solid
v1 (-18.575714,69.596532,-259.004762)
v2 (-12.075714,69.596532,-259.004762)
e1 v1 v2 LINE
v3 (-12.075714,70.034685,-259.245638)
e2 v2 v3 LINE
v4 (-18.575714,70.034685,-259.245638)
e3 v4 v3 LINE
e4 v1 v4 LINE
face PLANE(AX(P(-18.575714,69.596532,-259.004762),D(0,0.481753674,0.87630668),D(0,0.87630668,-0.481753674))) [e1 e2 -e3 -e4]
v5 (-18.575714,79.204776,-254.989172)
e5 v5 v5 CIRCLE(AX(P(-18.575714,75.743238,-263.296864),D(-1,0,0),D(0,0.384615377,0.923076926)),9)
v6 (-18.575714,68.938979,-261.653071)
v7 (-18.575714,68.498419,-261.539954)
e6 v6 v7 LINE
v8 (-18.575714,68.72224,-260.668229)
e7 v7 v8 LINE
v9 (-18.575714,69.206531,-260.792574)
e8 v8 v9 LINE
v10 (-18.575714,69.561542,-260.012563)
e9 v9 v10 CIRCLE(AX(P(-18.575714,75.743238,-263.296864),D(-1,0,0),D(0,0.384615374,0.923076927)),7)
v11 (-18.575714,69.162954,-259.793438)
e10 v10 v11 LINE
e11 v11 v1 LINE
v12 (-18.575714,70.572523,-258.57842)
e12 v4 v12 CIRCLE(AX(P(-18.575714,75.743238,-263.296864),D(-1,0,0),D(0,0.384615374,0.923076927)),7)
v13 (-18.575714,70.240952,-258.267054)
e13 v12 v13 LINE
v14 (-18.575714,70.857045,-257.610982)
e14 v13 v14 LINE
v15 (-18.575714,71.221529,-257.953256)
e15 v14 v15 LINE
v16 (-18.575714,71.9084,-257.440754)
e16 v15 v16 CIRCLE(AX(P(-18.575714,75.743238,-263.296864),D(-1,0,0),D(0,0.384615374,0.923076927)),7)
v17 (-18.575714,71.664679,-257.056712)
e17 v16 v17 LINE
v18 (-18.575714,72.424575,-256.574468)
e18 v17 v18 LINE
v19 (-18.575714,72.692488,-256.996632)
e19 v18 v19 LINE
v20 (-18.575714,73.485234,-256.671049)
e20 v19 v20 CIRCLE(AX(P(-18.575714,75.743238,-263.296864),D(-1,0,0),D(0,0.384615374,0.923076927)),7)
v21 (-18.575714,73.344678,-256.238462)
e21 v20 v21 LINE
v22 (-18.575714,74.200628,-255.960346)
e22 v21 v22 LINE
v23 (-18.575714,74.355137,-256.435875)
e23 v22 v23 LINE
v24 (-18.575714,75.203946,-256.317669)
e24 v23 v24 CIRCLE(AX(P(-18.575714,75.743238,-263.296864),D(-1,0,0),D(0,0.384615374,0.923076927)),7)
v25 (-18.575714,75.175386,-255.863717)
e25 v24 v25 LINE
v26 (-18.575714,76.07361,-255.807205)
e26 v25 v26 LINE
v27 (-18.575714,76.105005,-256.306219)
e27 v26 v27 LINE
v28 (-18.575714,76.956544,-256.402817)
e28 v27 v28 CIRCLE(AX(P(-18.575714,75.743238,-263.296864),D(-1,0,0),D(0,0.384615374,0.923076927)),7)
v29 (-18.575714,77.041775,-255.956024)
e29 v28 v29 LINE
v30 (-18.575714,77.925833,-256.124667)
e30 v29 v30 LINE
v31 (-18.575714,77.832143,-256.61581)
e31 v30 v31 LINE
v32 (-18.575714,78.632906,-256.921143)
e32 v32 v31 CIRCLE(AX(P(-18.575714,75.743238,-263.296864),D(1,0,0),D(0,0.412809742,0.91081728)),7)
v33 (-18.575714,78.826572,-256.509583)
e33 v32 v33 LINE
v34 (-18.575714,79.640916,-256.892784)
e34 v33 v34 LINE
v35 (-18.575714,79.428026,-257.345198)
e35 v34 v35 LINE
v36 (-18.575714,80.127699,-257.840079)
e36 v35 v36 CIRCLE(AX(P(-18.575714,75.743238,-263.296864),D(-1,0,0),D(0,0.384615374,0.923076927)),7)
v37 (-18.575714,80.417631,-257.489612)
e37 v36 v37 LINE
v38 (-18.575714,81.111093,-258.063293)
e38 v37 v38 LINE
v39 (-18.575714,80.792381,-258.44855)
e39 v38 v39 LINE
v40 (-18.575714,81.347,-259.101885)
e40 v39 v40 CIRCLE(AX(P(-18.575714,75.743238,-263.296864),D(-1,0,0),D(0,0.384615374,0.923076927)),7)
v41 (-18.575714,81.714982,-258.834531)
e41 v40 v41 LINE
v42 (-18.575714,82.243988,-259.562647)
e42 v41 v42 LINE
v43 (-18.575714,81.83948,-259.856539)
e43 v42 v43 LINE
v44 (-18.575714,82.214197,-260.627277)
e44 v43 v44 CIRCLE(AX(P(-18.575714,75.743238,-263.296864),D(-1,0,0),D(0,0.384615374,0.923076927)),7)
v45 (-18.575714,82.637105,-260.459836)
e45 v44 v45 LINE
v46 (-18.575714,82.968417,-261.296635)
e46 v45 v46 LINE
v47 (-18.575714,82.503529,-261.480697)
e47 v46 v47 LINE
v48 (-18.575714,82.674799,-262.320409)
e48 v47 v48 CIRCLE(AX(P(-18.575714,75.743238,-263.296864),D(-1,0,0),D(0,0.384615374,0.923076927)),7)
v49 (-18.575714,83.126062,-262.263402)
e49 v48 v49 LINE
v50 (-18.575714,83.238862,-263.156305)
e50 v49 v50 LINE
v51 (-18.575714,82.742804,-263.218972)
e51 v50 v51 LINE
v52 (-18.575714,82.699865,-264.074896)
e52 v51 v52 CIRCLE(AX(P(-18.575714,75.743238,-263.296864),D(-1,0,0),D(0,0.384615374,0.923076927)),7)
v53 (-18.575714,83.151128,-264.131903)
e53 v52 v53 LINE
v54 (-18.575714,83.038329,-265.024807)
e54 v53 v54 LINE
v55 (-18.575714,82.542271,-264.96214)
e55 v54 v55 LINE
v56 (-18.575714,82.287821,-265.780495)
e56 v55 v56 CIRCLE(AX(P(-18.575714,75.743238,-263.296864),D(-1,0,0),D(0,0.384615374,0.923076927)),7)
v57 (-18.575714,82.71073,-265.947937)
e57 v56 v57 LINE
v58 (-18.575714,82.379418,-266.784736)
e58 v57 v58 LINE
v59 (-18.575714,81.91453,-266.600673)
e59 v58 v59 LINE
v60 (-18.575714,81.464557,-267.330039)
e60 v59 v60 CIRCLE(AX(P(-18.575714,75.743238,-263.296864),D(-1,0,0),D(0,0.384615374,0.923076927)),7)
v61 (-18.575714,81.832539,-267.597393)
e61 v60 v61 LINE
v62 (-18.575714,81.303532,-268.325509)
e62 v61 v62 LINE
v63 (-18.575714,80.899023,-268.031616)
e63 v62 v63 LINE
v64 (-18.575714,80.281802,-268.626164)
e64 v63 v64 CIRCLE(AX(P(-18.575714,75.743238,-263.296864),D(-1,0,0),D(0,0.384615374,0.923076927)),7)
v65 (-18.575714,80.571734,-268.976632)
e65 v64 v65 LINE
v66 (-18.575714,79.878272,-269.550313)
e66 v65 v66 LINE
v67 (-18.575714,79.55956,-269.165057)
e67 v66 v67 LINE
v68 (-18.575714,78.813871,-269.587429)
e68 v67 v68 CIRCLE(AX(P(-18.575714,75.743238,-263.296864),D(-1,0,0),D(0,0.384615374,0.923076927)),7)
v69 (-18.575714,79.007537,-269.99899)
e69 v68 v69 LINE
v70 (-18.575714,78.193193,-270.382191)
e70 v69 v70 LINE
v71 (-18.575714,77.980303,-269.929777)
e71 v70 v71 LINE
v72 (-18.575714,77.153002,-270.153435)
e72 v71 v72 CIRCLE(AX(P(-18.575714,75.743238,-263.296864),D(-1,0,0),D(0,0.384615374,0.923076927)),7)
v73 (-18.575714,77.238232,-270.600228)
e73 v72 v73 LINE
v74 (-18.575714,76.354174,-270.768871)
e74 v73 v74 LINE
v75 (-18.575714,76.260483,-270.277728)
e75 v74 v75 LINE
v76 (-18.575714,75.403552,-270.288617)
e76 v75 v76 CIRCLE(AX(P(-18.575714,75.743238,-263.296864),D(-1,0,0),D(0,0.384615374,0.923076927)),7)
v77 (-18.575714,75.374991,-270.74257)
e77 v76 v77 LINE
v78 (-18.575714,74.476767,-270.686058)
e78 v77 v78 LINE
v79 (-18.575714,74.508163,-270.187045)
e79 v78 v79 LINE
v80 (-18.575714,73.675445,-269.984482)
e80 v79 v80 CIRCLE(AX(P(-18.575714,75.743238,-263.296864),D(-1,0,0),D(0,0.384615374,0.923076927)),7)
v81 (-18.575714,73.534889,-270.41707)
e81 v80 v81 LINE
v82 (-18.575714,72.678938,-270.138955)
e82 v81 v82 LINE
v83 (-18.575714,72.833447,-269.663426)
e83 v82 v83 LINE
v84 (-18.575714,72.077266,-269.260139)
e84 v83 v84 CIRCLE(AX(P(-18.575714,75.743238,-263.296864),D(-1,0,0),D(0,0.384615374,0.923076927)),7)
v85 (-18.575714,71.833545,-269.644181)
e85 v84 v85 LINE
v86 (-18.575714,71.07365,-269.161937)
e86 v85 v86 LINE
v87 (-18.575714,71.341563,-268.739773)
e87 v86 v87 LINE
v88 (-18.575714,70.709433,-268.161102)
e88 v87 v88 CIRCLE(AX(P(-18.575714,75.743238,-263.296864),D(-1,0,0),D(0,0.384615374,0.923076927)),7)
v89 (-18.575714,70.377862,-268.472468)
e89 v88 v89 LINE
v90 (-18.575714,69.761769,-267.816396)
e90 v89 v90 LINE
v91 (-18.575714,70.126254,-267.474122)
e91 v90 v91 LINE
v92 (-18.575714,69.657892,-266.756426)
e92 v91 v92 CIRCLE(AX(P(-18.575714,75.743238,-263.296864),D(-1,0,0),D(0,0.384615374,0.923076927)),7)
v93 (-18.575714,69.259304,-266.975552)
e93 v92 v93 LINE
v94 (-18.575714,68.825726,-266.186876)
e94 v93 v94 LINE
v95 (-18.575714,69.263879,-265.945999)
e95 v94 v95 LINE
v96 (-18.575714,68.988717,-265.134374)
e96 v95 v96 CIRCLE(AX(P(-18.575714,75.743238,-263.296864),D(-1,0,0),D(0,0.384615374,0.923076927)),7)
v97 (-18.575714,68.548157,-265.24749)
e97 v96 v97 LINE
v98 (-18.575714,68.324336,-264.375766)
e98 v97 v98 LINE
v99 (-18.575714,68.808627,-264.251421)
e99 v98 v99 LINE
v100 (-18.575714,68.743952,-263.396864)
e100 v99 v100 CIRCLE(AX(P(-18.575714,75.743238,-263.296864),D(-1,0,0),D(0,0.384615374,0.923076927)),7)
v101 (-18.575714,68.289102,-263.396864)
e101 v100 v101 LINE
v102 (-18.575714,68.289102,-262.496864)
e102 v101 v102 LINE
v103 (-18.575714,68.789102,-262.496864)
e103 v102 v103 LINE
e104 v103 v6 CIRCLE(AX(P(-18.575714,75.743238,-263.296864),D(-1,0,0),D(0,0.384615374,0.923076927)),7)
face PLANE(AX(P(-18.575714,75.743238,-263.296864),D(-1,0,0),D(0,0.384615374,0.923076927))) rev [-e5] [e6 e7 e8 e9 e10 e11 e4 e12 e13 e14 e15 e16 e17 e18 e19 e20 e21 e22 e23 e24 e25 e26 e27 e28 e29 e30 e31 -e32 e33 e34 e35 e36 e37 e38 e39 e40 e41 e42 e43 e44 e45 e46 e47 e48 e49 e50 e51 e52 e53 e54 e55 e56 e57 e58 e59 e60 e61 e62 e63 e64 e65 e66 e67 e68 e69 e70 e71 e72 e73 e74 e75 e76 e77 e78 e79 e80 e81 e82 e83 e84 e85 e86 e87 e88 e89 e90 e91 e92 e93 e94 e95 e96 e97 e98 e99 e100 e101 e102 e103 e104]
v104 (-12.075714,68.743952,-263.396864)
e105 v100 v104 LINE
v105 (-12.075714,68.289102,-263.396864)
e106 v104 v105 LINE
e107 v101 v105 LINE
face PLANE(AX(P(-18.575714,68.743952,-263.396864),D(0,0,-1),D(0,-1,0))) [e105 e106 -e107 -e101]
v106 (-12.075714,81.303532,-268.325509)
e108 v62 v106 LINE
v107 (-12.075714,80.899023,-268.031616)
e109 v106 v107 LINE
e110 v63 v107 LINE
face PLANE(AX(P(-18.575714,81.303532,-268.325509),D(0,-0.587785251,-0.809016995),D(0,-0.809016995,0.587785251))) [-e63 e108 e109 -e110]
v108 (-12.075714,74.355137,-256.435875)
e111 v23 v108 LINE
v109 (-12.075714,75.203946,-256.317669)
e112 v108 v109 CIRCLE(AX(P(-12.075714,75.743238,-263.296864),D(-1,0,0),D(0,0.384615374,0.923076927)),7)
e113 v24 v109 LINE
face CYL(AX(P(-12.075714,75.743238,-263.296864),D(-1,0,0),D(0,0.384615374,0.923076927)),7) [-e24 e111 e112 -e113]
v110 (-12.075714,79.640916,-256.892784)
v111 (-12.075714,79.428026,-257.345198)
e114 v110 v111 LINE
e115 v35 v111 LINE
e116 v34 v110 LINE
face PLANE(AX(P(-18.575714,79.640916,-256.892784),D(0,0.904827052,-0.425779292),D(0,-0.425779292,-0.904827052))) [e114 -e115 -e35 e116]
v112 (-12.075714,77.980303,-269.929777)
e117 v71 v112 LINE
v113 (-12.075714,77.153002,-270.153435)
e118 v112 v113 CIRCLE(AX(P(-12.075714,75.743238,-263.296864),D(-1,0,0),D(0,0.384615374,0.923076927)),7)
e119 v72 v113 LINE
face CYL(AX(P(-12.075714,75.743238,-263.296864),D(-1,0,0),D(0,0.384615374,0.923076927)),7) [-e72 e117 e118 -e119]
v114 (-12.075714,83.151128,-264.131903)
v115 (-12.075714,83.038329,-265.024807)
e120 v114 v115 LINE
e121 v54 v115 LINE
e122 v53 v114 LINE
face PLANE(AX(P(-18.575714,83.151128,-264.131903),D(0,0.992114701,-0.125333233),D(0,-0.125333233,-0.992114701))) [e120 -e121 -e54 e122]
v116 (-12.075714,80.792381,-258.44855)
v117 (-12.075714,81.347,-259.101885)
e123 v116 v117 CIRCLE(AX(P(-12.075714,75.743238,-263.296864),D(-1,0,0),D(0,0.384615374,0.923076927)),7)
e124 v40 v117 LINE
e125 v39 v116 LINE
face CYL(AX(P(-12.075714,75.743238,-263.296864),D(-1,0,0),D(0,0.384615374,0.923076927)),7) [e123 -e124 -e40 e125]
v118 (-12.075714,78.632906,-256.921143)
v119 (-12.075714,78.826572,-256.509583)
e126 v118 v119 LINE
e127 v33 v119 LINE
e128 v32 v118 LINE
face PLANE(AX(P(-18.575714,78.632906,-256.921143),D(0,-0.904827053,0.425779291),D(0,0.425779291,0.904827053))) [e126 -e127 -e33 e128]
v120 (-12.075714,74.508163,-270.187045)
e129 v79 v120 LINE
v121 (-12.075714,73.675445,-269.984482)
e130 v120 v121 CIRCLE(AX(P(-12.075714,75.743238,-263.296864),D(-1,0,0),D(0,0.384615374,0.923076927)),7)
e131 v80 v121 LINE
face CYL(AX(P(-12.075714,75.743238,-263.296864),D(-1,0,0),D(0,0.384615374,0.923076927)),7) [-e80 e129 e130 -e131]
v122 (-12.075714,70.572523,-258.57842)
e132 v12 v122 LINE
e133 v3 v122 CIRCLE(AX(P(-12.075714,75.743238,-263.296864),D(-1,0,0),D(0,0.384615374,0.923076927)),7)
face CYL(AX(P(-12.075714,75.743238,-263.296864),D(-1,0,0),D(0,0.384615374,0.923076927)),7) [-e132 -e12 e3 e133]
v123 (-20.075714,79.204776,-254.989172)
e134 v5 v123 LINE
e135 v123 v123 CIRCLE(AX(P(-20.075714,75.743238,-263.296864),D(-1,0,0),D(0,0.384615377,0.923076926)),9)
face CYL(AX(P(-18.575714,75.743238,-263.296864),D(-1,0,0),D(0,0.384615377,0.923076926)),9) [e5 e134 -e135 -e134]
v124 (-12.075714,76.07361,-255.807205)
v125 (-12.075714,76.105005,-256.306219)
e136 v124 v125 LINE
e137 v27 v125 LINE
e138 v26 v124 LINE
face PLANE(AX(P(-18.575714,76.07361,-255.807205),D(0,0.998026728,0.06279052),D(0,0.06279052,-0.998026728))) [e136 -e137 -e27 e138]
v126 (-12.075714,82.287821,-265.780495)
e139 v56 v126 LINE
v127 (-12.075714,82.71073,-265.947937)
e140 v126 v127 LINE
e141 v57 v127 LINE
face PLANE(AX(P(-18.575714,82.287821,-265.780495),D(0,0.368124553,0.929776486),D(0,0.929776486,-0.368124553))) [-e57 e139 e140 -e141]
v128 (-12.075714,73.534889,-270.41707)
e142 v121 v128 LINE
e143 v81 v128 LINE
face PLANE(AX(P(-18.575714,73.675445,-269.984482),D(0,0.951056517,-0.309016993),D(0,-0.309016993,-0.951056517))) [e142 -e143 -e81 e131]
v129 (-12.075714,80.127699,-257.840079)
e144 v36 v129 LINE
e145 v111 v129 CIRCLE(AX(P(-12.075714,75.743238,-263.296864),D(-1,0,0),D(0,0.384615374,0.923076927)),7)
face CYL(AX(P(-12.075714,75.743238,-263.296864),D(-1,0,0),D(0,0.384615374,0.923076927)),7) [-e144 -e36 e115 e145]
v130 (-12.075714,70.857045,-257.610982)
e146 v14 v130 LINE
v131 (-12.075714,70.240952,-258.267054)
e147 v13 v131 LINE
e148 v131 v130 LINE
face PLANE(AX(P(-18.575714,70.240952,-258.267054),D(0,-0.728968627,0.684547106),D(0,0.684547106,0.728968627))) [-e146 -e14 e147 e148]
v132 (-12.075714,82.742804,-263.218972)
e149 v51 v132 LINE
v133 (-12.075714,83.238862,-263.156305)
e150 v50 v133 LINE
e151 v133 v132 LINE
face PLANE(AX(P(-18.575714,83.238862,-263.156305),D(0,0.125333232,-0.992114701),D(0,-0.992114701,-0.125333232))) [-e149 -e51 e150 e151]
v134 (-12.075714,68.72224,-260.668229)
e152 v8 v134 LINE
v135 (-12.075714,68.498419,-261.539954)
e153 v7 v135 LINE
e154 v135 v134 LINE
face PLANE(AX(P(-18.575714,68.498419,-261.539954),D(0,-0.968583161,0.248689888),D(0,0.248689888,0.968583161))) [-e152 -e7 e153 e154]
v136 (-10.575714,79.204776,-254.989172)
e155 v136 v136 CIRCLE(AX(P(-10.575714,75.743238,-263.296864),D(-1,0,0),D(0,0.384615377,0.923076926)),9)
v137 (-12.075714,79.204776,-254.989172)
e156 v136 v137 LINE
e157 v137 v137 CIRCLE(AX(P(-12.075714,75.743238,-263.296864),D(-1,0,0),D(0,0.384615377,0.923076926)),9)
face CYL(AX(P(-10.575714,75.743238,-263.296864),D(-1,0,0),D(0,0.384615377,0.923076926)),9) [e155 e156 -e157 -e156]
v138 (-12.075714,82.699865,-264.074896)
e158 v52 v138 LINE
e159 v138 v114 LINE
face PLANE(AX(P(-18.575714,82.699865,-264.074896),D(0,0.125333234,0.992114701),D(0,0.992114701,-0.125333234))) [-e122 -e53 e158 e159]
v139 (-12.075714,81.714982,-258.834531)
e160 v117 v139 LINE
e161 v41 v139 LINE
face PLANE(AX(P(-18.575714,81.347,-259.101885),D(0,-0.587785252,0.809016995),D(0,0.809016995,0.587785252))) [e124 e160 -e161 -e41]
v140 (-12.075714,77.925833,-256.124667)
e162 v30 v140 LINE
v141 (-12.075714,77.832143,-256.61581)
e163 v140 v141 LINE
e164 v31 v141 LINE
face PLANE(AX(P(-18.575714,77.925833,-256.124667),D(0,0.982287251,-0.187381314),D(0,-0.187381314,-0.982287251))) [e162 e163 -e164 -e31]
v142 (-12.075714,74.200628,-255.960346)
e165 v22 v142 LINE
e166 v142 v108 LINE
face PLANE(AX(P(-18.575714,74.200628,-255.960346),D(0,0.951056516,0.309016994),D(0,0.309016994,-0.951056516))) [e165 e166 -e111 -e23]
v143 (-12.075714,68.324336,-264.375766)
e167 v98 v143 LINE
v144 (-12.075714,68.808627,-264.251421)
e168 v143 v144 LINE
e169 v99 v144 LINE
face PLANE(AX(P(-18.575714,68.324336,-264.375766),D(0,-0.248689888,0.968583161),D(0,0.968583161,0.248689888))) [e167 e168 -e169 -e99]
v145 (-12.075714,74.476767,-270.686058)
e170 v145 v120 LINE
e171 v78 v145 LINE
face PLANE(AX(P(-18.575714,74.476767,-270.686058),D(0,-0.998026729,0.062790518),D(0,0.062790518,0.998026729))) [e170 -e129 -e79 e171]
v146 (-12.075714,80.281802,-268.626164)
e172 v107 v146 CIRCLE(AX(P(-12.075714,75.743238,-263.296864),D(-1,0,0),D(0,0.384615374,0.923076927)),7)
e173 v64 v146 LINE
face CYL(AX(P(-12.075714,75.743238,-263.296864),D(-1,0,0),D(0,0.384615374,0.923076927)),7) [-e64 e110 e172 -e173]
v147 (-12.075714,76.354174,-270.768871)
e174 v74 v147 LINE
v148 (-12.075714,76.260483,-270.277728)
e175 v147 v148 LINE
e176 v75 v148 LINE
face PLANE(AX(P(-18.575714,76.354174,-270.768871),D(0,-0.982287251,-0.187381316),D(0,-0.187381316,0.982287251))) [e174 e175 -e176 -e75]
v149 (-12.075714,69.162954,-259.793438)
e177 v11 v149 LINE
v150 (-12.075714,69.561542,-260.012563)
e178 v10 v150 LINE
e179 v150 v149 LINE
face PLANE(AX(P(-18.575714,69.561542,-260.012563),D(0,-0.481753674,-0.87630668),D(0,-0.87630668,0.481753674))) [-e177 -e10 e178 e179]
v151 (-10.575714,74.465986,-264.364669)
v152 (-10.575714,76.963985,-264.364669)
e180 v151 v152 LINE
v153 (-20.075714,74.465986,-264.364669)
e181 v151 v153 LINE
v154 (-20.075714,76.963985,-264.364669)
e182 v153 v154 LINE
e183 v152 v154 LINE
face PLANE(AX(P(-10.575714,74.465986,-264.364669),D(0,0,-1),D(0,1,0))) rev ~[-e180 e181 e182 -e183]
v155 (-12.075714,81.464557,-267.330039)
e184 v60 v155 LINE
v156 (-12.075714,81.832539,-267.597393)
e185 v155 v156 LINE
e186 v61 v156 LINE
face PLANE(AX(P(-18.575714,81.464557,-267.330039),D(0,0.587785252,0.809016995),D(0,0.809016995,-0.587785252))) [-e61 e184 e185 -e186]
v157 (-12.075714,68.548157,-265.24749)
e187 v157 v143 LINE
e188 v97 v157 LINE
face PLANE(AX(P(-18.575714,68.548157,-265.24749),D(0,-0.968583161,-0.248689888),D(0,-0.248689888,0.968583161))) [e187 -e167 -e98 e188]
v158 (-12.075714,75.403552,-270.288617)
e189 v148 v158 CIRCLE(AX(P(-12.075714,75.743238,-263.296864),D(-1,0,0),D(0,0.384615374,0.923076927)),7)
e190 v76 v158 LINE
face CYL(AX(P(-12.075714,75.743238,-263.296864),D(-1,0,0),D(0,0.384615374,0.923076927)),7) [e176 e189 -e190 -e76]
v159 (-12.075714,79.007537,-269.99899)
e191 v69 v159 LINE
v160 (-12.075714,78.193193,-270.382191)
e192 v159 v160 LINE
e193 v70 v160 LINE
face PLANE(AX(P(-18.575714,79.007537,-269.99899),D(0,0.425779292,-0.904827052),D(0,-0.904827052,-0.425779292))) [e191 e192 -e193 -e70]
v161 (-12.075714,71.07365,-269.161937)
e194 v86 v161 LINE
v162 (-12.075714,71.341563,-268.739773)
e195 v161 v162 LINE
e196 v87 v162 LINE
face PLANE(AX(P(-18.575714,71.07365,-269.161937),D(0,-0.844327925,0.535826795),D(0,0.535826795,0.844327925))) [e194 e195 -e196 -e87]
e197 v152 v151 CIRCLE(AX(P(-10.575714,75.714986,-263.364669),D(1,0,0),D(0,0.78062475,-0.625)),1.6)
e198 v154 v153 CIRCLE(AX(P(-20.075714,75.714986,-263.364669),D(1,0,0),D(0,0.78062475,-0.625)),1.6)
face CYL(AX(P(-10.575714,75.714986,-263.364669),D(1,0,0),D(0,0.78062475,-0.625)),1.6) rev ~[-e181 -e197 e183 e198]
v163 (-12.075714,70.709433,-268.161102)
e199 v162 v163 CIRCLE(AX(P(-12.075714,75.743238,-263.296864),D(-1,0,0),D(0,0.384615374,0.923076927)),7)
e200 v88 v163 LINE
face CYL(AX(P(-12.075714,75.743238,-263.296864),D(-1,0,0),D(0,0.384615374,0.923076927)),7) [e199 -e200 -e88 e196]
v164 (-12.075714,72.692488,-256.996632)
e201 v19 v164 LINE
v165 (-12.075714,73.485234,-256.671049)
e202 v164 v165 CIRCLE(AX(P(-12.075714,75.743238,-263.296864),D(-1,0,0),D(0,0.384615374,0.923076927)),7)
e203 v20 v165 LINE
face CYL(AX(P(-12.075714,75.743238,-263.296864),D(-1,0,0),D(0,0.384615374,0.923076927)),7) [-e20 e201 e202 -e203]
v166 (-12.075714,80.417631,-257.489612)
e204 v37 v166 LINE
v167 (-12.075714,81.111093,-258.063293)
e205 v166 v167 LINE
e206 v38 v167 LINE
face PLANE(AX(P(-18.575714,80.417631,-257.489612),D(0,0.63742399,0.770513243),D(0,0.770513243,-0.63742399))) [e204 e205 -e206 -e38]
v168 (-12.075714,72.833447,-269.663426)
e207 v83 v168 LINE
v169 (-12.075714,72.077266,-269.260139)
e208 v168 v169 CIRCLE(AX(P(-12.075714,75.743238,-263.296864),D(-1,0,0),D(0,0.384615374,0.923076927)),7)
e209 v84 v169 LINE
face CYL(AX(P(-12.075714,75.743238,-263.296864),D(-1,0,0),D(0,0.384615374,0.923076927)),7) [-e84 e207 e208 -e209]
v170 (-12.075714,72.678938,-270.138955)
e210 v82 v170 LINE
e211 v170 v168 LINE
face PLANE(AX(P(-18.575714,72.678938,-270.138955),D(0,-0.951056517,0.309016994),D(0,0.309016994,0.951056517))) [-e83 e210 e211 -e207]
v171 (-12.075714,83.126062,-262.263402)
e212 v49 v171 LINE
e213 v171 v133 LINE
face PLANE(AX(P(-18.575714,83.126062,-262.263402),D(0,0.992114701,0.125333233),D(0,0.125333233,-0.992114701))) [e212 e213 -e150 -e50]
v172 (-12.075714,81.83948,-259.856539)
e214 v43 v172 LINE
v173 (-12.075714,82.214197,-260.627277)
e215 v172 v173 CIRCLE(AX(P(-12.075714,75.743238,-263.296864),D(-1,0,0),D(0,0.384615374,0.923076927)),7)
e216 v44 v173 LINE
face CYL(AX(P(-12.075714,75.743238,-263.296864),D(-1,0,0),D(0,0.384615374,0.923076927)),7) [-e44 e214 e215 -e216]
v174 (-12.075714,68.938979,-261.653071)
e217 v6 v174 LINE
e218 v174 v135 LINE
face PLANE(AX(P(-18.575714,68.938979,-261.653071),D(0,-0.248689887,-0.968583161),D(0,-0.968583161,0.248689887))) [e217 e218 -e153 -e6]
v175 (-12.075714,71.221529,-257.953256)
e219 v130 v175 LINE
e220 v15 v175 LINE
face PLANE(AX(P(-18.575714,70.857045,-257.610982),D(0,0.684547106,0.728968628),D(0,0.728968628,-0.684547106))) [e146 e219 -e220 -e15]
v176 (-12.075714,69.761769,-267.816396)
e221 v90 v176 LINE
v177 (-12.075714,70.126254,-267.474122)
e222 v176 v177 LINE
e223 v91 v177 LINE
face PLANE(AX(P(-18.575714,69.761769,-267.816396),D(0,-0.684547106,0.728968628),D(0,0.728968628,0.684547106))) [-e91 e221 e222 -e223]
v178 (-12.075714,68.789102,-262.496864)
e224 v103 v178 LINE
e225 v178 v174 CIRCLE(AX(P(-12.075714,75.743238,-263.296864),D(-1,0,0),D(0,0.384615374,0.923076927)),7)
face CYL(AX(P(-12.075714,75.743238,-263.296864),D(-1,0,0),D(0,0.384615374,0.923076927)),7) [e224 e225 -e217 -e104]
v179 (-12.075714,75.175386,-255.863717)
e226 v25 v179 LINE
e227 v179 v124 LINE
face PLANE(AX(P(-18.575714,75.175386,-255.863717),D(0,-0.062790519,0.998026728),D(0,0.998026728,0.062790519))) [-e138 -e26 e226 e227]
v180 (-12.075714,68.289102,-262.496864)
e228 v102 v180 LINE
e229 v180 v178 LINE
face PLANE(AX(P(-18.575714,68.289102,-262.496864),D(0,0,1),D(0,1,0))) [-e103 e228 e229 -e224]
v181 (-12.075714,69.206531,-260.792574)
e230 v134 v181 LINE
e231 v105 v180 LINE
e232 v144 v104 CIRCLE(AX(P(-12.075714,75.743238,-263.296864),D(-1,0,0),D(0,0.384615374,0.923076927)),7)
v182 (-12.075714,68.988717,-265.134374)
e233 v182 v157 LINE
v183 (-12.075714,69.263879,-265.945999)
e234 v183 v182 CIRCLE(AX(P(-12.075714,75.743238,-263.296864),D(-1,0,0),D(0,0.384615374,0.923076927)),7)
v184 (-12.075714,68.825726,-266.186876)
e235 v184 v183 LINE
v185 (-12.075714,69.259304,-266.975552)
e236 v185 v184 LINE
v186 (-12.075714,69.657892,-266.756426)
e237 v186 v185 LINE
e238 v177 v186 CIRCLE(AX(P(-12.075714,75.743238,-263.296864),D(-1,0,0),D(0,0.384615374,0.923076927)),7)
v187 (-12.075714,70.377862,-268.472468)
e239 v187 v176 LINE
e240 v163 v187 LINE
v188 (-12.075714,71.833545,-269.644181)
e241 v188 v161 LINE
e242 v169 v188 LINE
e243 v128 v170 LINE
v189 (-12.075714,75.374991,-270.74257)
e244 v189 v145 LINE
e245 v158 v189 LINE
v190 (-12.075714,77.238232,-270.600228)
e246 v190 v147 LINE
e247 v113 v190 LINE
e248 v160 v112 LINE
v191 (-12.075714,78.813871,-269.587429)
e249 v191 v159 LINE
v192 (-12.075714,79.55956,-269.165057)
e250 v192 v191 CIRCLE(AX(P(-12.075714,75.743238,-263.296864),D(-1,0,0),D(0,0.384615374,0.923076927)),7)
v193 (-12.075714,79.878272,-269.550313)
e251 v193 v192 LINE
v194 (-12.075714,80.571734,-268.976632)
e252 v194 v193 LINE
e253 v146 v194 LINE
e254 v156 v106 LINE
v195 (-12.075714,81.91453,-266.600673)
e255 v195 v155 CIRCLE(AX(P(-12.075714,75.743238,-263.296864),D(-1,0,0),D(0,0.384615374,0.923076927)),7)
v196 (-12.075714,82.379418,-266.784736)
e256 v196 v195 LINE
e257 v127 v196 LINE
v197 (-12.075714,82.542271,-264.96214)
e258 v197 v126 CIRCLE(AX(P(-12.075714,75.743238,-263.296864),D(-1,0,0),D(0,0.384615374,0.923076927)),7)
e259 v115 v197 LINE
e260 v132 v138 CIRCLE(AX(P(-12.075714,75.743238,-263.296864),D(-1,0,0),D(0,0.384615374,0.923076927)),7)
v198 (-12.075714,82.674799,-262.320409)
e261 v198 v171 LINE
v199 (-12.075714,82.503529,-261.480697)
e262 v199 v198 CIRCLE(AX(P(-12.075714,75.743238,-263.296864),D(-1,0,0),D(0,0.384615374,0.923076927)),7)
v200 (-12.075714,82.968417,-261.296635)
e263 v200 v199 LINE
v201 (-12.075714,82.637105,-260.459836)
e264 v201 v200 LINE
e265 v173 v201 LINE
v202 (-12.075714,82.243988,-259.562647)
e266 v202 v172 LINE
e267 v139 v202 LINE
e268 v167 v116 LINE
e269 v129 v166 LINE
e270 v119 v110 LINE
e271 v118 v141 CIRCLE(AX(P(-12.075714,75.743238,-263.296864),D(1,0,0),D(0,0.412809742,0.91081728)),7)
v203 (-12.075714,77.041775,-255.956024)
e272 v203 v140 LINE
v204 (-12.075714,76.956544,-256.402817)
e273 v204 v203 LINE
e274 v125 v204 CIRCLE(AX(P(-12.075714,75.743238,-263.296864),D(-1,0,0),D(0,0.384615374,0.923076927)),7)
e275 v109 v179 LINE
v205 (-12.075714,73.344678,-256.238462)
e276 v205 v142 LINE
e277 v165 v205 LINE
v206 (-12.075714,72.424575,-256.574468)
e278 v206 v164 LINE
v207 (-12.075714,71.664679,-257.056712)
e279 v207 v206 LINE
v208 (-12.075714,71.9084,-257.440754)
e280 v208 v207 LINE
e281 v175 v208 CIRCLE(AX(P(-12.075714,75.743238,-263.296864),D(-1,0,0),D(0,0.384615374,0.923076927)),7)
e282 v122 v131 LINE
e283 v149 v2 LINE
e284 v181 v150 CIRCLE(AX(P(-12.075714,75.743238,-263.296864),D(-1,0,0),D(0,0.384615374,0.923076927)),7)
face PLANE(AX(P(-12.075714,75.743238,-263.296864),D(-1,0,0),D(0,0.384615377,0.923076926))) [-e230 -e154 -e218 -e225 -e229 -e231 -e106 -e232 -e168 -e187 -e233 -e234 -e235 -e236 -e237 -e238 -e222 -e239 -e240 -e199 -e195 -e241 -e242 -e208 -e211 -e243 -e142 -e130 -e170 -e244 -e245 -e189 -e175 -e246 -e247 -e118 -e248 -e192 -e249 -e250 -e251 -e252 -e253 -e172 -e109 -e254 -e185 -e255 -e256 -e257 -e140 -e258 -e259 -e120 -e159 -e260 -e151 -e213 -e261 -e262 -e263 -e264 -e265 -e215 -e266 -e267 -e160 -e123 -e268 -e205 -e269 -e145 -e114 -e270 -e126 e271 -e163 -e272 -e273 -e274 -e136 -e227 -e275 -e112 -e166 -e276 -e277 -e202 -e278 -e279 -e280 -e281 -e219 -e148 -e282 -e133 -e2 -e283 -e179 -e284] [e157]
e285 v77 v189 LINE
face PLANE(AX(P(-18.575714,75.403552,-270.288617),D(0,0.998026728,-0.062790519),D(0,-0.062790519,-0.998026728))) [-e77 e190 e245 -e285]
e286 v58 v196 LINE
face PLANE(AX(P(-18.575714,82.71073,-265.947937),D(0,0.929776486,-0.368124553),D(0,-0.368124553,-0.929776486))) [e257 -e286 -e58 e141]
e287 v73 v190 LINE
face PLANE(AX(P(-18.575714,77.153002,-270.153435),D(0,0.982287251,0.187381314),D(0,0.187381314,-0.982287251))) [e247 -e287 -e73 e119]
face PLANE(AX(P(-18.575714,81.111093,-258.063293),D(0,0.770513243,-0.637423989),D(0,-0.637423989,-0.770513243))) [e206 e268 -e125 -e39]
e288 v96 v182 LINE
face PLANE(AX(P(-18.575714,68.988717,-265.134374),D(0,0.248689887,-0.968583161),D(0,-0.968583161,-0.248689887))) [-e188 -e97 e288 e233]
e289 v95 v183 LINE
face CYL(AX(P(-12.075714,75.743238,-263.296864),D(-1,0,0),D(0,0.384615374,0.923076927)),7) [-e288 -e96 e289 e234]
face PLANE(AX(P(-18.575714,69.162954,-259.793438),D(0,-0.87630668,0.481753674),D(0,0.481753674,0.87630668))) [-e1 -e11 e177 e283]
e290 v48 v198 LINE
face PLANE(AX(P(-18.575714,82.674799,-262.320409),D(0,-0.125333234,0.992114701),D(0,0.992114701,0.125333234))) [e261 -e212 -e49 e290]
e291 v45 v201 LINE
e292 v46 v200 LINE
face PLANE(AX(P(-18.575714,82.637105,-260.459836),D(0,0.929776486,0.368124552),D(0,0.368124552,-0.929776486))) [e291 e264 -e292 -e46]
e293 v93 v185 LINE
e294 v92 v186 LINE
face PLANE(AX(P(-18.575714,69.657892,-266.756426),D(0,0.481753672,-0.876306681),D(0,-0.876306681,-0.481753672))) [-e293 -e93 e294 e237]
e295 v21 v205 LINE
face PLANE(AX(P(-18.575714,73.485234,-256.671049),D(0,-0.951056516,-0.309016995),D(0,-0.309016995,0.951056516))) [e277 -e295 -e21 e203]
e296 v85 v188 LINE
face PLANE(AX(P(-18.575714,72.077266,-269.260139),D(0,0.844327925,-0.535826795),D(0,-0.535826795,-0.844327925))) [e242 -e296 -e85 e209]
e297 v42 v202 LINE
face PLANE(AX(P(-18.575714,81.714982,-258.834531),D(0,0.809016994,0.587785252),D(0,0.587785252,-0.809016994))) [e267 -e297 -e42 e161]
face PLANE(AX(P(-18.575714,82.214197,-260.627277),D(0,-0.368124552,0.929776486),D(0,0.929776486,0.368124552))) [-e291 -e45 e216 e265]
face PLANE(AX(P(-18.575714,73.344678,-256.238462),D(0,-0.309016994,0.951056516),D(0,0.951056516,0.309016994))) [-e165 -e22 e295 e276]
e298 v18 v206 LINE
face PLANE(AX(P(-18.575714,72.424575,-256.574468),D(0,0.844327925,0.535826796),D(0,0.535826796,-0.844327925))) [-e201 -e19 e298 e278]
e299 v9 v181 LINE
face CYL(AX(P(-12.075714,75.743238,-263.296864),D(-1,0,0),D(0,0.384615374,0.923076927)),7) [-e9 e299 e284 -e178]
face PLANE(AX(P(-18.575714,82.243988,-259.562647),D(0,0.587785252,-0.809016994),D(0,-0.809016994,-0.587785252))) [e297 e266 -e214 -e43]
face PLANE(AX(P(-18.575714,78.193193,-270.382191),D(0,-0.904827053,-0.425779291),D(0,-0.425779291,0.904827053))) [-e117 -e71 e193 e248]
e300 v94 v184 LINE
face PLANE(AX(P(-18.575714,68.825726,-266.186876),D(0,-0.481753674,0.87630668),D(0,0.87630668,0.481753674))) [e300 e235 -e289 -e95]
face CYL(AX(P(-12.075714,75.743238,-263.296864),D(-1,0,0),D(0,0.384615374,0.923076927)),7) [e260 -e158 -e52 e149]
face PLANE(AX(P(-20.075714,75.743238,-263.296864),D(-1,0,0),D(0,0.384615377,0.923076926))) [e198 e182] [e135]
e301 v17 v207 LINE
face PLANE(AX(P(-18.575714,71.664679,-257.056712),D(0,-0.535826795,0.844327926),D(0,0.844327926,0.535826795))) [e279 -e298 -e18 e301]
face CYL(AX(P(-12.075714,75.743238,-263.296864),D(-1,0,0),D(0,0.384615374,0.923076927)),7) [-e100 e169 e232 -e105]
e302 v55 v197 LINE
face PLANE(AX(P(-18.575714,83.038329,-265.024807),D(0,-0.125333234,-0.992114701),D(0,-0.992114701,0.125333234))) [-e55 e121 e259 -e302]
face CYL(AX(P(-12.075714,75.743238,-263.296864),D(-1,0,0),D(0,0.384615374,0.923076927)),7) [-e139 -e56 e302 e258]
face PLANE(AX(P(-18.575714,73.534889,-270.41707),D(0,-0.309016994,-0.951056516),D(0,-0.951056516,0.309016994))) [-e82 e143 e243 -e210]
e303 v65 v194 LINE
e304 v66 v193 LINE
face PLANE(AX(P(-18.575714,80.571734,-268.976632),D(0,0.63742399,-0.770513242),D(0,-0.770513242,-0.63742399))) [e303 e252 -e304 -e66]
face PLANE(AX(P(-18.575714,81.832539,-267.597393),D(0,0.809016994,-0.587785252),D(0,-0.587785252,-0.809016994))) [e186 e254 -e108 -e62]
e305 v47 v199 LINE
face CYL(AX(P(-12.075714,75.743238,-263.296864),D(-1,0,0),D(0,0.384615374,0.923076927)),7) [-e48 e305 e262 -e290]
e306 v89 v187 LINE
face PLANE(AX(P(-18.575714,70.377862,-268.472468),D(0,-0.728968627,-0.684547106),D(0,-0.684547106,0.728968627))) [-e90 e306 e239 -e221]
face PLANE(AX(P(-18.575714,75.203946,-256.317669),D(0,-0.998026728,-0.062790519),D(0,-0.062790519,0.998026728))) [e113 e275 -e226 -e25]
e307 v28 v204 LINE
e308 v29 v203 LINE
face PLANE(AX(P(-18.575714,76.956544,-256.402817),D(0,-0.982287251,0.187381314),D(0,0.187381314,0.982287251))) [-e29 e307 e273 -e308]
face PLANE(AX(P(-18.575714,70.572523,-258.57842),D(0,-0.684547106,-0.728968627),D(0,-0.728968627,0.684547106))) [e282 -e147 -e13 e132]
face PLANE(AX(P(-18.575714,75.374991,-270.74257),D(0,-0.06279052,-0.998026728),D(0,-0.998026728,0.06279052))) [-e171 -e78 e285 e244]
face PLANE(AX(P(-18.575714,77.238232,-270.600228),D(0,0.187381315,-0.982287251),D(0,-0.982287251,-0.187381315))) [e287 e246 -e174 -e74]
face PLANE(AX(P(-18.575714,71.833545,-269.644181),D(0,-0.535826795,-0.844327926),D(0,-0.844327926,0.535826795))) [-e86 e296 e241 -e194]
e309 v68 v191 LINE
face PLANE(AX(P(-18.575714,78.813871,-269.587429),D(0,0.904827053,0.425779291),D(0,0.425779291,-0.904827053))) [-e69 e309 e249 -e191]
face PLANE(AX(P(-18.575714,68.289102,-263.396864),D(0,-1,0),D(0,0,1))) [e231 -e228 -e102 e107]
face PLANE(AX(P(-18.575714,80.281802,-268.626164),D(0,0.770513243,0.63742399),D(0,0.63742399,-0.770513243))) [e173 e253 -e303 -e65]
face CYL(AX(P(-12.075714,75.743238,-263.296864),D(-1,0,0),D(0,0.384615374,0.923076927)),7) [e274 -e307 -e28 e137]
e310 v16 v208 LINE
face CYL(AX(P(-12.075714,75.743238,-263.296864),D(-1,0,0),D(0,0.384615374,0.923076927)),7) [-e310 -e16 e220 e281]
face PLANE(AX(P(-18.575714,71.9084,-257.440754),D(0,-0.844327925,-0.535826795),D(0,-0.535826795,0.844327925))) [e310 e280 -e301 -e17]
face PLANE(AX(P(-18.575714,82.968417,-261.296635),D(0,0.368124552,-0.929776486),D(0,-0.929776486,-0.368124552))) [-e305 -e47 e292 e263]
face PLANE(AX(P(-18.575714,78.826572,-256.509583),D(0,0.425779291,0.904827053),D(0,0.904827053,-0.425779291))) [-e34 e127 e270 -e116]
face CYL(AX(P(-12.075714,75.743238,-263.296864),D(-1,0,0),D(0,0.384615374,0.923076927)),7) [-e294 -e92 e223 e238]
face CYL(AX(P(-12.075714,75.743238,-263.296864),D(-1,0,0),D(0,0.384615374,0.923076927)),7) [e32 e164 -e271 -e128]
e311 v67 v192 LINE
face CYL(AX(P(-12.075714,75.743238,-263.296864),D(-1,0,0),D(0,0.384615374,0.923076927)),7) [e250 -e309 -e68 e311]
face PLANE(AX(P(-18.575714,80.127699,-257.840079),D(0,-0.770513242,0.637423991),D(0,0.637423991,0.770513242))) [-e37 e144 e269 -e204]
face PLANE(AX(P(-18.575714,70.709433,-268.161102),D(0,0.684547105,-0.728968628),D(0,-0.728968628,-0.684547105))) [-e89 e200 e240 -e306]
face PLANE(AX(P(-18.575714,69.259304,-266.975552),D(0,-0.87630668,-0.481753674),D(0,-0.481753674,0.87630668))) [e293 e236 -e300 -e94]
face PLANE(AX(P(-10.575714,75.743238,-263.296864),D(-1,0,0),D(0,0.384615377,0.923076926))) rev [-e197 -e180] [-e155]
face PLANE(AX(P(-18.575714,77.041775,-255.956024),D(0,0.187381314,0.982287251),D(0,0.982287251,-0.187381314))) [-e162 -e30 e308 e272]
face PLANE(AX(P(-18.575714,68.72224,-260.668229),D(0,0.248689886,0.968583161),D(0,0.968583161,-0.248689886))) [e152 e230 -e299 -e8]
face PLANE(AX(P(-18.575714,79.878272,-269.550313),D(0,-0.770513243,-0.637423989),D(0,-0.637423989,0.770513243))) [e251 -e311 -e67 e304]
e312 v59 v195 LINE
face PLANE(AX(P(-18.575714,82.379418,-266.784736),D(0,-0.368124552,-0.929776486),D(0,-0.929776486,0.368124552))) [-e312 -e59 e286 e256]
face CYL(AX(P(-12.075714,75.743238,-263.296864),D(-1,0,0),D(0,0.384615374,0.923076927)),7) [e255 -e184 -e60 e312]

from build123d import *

# Parameters (mm, degrees)
BOSS_EXTRUDE1_DEPTH = 6.5
CUT_EXTRUDE1_DEPTH  = 9.5


with BuildPart() as part:
    # Sketch1 → Revolve1 (revolve)
    with BuildSketch(Plane(origin=(0, 158.016793392, -65.84033058), x_dir=(1, 0, 0), z_dir=(0, 0.923076923, -0.384615385))):
        Polygon((-20.075714319, 213.91124457), (-10.575714319, 213.91124457), (-10.575714319, 204.91124457), (-12.075714319, 204.91124457), (-12.075714319, 206.91124457), (-18.575714319, 206.91124457), (-18.575714319, 204.91124457), (-20.075714319, 204.91124457), align=None)
    revolve(axis=Axis((-11.075714319, 75.743237788, -263.296864029), (-1, 0, 0)))

    # Sketch2 → Boss-Extrude1 (add)
    with BuildSketch(Plane(origin=(-18.575714319, 0, 0), x_dir=(0, 0, -1), z_dir=(1, 0, 0))):
        with BuildLine():
            Line((263.396864029, 68.74395211), (263.396864029, 68.289102327))
            Line((263.396864029, 68.289102327), (262.496864029, 68.289102327))
            Line((262.496864029, 68.289102327), (262.496864029, 68.789102327))
            ThreePointArc((262.496864029, 68.789102327), (262.946136734, 68.752029711), (263.396864029, 68.74395211))
        make_face()
        with BuildLine():
            Line((261.65307078, 68.938978551), (261.539954239, 68.498418711))
            Line((261.539954239, 68.498418711), (260.668229394, 68.72223961))
            Line((260.668229394, 68.72223961), (260.792574337, 69.20653119))
            ThreePointArc((260.792574337, 69.20653119), (261.218512729, 69.058893701), (261.65307078, 68.938978551))
        make_face()
        with BuildLine():
            Line((260.012563106, 69.561541625), (259.793437552, 69.162953722))
            Line((259.793437552, 69.162953722), (259.00476154, 69.596532029))
            Line((259.00476154, 69.596532029), (259.245638377, 70.034685369))
            ThreePointArc((259.245638377, 70.034685369), (259.621479181, 69.785759612), (260.012563106, 69.561541625))
        make_face()
        with BuildLine():
            Line((258.578420138, 70.572523404), (258.267054035, 70.240952182))
            Line((258.267054035, 70.240952182), (257.610982271, 70.857044577))
            Line((257.610982271, 70.857044577), (257.953255824, 71.221528891))
            ThreePointArc((257.953255824, 71.221528891), (258.255383579, 70.886955787), (258.578420138, 70.572523404))
        make_face()
        with BuildLine():
            Line((257.440754352, 71.908400183), (257.056711979, 71.664679482))
            Line((257.056711979, 71.664679482), (256.574467864, 72.424574615))
            Line((256.574467864, 72.424574615), (256.996631826, 72.692488013))
            ThreePointArc((256.996631826, 72.692488013), (257.206062735, 72.293290021), (257.440754352, 71.908400183))
        make_face()
        with BuildLine():
            Line((256.671049475, 73.485233913), (256.238461626, 73.3446776))
            Line((256.238461626, 73.3446776), (255.960346331, 74.200628465))
            Line((255.960346331, 74.200628465), (256.435874589, 74.355136962))
            ThreePointArc((256.435874589, 74.355136962), (256.539449337, 73.91639716), (256.671049475, 73.485233913))
        make_face()
        with BuildLine():
            Line((256.317668895, 75.203946331), (255.863716654, 75.175386077))
            Line((255.863716654, 75.175386077), (255.807205187, 76.073610132))
            Line((255.807205187, 76.073610132), (256.306218551, 76.105005392))
            ThreePointArc((256.306218551, 76.105005392), (256.297429156, 75.654291415), (256.317668895, 75.203946331))
        make_face()
        with BuildLine():
            Line((256.402816812, 76.956544414), (255.95602367, 77.041774764))
            Line((255.95602367, 77.041774764), (256.124666853, 77.92583329))
            Line((256.124666853, 77.92583329), (256.615810478, 77.832142633))
            ThreePointArc((256.615810478, 77.832142633), (256.49520921, 77.397774498), (256.402816812, 76.956544414))
        make_face()
        with BuildLine():
            Line((256.921143071, 78.63290598), (256.509582683, 78.826571598))
            Line((256.509582683, 78.826571598), (256.892784045, 79.640915945))
            Line((256.892784045, 79.640915945), (257.345197571, 79.428026299))
            ThreePointArc((257.345197571, 79.428026299), (257.120362252, 79.037296954), (256.921143071, 78.63290598))
        make_face()
        with BuildLine():
            Line((257.840079325, 80.127699066), (257.489611545, 80.417631229))
            Line((257.489611545, 80.417631229), (258.063293135, 81.111093147))
            Line((258.063293135, 81.111093147), (258.448549757, 80.792381152))
            ThreePointArc((258.448549757, 80.792381152), (258.133607615, 80.469841558), (257.840079325, 80.127699066))
        make_face()
        with BuildLine():
            Line((259.101885432, 81.347000324), (258.834531438, 81.714981528))
            Line((258.834531438, 81.714981528), (259.562646733, 82.243988255))
            Line((259.562646733, 82.243988255), (259.856539359, 81.839479758))
            ThreePointArc((259.856539359, 81.839479758), (259.471279368, 81.605396264), (259.101885432, 81.347000324))
        make_face()
        with BuildLine():
            Line((260.627277471, 82.214196574), (260.459836099, 82.637105206))
            Line((260.459836099, 82.637105206), (261.296634936, 82.968417303))
            Line((261.296634936, 82.968417303), (261.480697212, 82.50352906))
            ThreePointArc((261.480697212, 82.50352906), (261.049326675, 82.372609993), (260.627277471, 82.214196574))
        make_face()
        with BuildLine():
            Line((262.320409452, 82.674798684), (262.263401658, 83.12606184))
            Line((262.263401658, 83.12606184), (263.15630489, 83.23886175))
            Line((263.15630489, 83.23886175), (263.218971506, 82.7428044))
            ThreePointArc((263.218971506, 82.7428044), (262.76859502, 82.723275886), (262.320409452, 82.674798684))
        make_face()
        with BuildLine():
            Line((264.074895666, 82.699865331), (264.13190346, 83.151128487))
            Line((264.13190346, 83.151128487), (265.024806691, 83.038328577))
            Line((265.024806691, 83.038328577), (264.962140074, 82.542271226))
            ThreePointArc((264.962140074, 82.542271226), (264.52105645, 82.635360314), (264.074895666, 82.699865331))
        make_face()
        with BuildLine():
            Line((265.78049529, 82.287821484), (265.947936663, 82.710730117))
            Line((265.947936663, 82.710730117), (266.7847355, 82.379418019))
            Line((266.7847355, 82.379418019), (266.600673224, 81.914529776))
            ThreePointArc((266.600673224, 81.914529776), (266.196597367, 82.114387336), (265.78049529, 82.287821484))
        make_face()
        with BuildLine():
            Line((267.330039228, 81.464557375), (267.597393222, 81.832538579))
            Line((267.597393222, 81.832538579), (268.325508517, 81.303531852))
            Line((268.325508517, 81.303531852), (268.031615891, 80.899023354))
            ThreePointArc((268.031615891, 80.899023354), (267.689937374, 81.193091601), (267.330039228, 81.464557375))
        make_face()
        with BuildLine():
            Line((268.626163935, 80.281801714), (268.976631716, 80.571733877))
            Line((268.976631716, 80.571733877), (269.550313307, 79.878271959))
            Line((269.550313307, 79.878271959), (269.165056685, 79.559559964))
            ThreePointArc((269.165056685, 79.559559964), (268.907244427, 79.929361507), (268.626163935, 80.281801714))
        make_face()
        with BuildLine():
            Line((269.587429129, 78.81387139), (269.998989517, 79.007537008))
            Line((269.998989517, 79.007537008), (270.38219088, 78.193192661))
            Line((270.38219088, 78.193192661), (269.929777353, 77.980303015))
            ThreePointArc((269.929777353, 77.980303015), (269.772030645, 78.402601865), (269.587429129, 78.81387139))
        make_face()
        with BuildLine():
            Line((270.153434983, 77.153001864), (270.600228126, 77.238232214))
            Line((270.600228126, 77.238232214), (270.768871309, 76.354173689))
            Line((270.768871309, 76.354173689), (270.277727683, 76.260483031))
            ThreePointArc((270.277727683, 76.260483031), (270.229958331, 76.708744597), (270.153434983, 77.153001864))
        make_face()
        with BuildLine():
            Line((270.288617268, 75.403551676), (270.742569508, 75.374991422))
            Line((270.742569508, 75.374991422), (270.68605804, 74.476767367))
            Line((270.68605804, 74.476767367), (270.187044676, 74.508162626))
            ThreePointArc((270.187044676, 74.508162626), (270.252254204, 74.954220986), (270.288617268, 75.403551676))
        make_face()
        with BuildLine():
            Line((269.984481982, 73.675445216), (270.417069832, 73.534888904))
            Line((270.417069832, 73.534888904), (270.138954537, 72.678938039))
            Line((270.138954537, 72.678938039), (269.663426278, 72.833446536))
            ThreePointArc((269.663426278, 72.833446536), (269.837517332, 73.249274201), (269.984481982, 73.675445216))
        make_face()
        with BuildLine():
            Line((269.260139065, 72.077265768), (269.644181438, 71.833545067))
            Line((269.644181438, 71.833545067), (269.161937323, 71.073649934))
            Line((269.161937323, 71.073649934), (268.73977336, 71.341563332))
            ThreePointArc((268.73977336, 71.341563332), (269.011807158, 71.701032322), (269.260139065, 72.077265768))
        make_face()
        with BuildLine():
            Line((268.161101646, 70.709432825), (268.472467748, 70.377861603))
            Line((268.472467748, 70.377861603), (267.816395984, 69.761769208))
            Line((267.816395984, 69.761769208), (267.474122431, 70.126253522))
            ThreePointArc((267.474122431, 70.126253522), (267.82700609, 70.406777078), (268.161101646, 70.709432825))
        make_face()
        with BuildLine():
            Line((266.756426289, 69.65789236), (266.975551842, 69.259304457))
            Line((266.975551842, 69.259304457), (266.18687583, 68.825726151))
            Line((266.18687583, 68.825726151), (265.945998993, 69.263879491))
            ThreePointArc((265.945998993, 69.263879491), (266.357559535, 69.447831286), (266.756426289, 69.65789236))
        make_face()
        with BuildLine():
            Line((265.134373911, 68.988716529), (265.247490452, 68.548156689))
            Line((265.247490452, 68.548156689), (264.375765607, 68.32433579))
            Line((264.375765607, 68.32433579), (264.251420663, 68.808627371))
            ThreePointArc((264.251420663, 68.808627371), (264.695798225, 68.884449038), (265.134373911, 68.988716529))
        make_face()
    extrude(amount=BOSS_EXTRUDE1_DEPTH)

    # Sketch3 → Cut-Extrude1 (cut)
    with BuildSketch(Plane(origin=(-10.575714319, 0, 0), x_dir=(0, 0, -1), z_dir=(1, 0, 0))):
        with BuildLine():
            Line((264.364668647, 74.465986264), (264.364668647, 76.963985463))
            ThreePointArc((264.364668647, 76.963985463), (261.764668647, 75.714985864), (264.364668647, 74.465986264))
        make_face()
    extrude(amount=-CUT_EXTRUDE1_DEPTH, mode=Mode.SUBTRACT)


solid = part.part
